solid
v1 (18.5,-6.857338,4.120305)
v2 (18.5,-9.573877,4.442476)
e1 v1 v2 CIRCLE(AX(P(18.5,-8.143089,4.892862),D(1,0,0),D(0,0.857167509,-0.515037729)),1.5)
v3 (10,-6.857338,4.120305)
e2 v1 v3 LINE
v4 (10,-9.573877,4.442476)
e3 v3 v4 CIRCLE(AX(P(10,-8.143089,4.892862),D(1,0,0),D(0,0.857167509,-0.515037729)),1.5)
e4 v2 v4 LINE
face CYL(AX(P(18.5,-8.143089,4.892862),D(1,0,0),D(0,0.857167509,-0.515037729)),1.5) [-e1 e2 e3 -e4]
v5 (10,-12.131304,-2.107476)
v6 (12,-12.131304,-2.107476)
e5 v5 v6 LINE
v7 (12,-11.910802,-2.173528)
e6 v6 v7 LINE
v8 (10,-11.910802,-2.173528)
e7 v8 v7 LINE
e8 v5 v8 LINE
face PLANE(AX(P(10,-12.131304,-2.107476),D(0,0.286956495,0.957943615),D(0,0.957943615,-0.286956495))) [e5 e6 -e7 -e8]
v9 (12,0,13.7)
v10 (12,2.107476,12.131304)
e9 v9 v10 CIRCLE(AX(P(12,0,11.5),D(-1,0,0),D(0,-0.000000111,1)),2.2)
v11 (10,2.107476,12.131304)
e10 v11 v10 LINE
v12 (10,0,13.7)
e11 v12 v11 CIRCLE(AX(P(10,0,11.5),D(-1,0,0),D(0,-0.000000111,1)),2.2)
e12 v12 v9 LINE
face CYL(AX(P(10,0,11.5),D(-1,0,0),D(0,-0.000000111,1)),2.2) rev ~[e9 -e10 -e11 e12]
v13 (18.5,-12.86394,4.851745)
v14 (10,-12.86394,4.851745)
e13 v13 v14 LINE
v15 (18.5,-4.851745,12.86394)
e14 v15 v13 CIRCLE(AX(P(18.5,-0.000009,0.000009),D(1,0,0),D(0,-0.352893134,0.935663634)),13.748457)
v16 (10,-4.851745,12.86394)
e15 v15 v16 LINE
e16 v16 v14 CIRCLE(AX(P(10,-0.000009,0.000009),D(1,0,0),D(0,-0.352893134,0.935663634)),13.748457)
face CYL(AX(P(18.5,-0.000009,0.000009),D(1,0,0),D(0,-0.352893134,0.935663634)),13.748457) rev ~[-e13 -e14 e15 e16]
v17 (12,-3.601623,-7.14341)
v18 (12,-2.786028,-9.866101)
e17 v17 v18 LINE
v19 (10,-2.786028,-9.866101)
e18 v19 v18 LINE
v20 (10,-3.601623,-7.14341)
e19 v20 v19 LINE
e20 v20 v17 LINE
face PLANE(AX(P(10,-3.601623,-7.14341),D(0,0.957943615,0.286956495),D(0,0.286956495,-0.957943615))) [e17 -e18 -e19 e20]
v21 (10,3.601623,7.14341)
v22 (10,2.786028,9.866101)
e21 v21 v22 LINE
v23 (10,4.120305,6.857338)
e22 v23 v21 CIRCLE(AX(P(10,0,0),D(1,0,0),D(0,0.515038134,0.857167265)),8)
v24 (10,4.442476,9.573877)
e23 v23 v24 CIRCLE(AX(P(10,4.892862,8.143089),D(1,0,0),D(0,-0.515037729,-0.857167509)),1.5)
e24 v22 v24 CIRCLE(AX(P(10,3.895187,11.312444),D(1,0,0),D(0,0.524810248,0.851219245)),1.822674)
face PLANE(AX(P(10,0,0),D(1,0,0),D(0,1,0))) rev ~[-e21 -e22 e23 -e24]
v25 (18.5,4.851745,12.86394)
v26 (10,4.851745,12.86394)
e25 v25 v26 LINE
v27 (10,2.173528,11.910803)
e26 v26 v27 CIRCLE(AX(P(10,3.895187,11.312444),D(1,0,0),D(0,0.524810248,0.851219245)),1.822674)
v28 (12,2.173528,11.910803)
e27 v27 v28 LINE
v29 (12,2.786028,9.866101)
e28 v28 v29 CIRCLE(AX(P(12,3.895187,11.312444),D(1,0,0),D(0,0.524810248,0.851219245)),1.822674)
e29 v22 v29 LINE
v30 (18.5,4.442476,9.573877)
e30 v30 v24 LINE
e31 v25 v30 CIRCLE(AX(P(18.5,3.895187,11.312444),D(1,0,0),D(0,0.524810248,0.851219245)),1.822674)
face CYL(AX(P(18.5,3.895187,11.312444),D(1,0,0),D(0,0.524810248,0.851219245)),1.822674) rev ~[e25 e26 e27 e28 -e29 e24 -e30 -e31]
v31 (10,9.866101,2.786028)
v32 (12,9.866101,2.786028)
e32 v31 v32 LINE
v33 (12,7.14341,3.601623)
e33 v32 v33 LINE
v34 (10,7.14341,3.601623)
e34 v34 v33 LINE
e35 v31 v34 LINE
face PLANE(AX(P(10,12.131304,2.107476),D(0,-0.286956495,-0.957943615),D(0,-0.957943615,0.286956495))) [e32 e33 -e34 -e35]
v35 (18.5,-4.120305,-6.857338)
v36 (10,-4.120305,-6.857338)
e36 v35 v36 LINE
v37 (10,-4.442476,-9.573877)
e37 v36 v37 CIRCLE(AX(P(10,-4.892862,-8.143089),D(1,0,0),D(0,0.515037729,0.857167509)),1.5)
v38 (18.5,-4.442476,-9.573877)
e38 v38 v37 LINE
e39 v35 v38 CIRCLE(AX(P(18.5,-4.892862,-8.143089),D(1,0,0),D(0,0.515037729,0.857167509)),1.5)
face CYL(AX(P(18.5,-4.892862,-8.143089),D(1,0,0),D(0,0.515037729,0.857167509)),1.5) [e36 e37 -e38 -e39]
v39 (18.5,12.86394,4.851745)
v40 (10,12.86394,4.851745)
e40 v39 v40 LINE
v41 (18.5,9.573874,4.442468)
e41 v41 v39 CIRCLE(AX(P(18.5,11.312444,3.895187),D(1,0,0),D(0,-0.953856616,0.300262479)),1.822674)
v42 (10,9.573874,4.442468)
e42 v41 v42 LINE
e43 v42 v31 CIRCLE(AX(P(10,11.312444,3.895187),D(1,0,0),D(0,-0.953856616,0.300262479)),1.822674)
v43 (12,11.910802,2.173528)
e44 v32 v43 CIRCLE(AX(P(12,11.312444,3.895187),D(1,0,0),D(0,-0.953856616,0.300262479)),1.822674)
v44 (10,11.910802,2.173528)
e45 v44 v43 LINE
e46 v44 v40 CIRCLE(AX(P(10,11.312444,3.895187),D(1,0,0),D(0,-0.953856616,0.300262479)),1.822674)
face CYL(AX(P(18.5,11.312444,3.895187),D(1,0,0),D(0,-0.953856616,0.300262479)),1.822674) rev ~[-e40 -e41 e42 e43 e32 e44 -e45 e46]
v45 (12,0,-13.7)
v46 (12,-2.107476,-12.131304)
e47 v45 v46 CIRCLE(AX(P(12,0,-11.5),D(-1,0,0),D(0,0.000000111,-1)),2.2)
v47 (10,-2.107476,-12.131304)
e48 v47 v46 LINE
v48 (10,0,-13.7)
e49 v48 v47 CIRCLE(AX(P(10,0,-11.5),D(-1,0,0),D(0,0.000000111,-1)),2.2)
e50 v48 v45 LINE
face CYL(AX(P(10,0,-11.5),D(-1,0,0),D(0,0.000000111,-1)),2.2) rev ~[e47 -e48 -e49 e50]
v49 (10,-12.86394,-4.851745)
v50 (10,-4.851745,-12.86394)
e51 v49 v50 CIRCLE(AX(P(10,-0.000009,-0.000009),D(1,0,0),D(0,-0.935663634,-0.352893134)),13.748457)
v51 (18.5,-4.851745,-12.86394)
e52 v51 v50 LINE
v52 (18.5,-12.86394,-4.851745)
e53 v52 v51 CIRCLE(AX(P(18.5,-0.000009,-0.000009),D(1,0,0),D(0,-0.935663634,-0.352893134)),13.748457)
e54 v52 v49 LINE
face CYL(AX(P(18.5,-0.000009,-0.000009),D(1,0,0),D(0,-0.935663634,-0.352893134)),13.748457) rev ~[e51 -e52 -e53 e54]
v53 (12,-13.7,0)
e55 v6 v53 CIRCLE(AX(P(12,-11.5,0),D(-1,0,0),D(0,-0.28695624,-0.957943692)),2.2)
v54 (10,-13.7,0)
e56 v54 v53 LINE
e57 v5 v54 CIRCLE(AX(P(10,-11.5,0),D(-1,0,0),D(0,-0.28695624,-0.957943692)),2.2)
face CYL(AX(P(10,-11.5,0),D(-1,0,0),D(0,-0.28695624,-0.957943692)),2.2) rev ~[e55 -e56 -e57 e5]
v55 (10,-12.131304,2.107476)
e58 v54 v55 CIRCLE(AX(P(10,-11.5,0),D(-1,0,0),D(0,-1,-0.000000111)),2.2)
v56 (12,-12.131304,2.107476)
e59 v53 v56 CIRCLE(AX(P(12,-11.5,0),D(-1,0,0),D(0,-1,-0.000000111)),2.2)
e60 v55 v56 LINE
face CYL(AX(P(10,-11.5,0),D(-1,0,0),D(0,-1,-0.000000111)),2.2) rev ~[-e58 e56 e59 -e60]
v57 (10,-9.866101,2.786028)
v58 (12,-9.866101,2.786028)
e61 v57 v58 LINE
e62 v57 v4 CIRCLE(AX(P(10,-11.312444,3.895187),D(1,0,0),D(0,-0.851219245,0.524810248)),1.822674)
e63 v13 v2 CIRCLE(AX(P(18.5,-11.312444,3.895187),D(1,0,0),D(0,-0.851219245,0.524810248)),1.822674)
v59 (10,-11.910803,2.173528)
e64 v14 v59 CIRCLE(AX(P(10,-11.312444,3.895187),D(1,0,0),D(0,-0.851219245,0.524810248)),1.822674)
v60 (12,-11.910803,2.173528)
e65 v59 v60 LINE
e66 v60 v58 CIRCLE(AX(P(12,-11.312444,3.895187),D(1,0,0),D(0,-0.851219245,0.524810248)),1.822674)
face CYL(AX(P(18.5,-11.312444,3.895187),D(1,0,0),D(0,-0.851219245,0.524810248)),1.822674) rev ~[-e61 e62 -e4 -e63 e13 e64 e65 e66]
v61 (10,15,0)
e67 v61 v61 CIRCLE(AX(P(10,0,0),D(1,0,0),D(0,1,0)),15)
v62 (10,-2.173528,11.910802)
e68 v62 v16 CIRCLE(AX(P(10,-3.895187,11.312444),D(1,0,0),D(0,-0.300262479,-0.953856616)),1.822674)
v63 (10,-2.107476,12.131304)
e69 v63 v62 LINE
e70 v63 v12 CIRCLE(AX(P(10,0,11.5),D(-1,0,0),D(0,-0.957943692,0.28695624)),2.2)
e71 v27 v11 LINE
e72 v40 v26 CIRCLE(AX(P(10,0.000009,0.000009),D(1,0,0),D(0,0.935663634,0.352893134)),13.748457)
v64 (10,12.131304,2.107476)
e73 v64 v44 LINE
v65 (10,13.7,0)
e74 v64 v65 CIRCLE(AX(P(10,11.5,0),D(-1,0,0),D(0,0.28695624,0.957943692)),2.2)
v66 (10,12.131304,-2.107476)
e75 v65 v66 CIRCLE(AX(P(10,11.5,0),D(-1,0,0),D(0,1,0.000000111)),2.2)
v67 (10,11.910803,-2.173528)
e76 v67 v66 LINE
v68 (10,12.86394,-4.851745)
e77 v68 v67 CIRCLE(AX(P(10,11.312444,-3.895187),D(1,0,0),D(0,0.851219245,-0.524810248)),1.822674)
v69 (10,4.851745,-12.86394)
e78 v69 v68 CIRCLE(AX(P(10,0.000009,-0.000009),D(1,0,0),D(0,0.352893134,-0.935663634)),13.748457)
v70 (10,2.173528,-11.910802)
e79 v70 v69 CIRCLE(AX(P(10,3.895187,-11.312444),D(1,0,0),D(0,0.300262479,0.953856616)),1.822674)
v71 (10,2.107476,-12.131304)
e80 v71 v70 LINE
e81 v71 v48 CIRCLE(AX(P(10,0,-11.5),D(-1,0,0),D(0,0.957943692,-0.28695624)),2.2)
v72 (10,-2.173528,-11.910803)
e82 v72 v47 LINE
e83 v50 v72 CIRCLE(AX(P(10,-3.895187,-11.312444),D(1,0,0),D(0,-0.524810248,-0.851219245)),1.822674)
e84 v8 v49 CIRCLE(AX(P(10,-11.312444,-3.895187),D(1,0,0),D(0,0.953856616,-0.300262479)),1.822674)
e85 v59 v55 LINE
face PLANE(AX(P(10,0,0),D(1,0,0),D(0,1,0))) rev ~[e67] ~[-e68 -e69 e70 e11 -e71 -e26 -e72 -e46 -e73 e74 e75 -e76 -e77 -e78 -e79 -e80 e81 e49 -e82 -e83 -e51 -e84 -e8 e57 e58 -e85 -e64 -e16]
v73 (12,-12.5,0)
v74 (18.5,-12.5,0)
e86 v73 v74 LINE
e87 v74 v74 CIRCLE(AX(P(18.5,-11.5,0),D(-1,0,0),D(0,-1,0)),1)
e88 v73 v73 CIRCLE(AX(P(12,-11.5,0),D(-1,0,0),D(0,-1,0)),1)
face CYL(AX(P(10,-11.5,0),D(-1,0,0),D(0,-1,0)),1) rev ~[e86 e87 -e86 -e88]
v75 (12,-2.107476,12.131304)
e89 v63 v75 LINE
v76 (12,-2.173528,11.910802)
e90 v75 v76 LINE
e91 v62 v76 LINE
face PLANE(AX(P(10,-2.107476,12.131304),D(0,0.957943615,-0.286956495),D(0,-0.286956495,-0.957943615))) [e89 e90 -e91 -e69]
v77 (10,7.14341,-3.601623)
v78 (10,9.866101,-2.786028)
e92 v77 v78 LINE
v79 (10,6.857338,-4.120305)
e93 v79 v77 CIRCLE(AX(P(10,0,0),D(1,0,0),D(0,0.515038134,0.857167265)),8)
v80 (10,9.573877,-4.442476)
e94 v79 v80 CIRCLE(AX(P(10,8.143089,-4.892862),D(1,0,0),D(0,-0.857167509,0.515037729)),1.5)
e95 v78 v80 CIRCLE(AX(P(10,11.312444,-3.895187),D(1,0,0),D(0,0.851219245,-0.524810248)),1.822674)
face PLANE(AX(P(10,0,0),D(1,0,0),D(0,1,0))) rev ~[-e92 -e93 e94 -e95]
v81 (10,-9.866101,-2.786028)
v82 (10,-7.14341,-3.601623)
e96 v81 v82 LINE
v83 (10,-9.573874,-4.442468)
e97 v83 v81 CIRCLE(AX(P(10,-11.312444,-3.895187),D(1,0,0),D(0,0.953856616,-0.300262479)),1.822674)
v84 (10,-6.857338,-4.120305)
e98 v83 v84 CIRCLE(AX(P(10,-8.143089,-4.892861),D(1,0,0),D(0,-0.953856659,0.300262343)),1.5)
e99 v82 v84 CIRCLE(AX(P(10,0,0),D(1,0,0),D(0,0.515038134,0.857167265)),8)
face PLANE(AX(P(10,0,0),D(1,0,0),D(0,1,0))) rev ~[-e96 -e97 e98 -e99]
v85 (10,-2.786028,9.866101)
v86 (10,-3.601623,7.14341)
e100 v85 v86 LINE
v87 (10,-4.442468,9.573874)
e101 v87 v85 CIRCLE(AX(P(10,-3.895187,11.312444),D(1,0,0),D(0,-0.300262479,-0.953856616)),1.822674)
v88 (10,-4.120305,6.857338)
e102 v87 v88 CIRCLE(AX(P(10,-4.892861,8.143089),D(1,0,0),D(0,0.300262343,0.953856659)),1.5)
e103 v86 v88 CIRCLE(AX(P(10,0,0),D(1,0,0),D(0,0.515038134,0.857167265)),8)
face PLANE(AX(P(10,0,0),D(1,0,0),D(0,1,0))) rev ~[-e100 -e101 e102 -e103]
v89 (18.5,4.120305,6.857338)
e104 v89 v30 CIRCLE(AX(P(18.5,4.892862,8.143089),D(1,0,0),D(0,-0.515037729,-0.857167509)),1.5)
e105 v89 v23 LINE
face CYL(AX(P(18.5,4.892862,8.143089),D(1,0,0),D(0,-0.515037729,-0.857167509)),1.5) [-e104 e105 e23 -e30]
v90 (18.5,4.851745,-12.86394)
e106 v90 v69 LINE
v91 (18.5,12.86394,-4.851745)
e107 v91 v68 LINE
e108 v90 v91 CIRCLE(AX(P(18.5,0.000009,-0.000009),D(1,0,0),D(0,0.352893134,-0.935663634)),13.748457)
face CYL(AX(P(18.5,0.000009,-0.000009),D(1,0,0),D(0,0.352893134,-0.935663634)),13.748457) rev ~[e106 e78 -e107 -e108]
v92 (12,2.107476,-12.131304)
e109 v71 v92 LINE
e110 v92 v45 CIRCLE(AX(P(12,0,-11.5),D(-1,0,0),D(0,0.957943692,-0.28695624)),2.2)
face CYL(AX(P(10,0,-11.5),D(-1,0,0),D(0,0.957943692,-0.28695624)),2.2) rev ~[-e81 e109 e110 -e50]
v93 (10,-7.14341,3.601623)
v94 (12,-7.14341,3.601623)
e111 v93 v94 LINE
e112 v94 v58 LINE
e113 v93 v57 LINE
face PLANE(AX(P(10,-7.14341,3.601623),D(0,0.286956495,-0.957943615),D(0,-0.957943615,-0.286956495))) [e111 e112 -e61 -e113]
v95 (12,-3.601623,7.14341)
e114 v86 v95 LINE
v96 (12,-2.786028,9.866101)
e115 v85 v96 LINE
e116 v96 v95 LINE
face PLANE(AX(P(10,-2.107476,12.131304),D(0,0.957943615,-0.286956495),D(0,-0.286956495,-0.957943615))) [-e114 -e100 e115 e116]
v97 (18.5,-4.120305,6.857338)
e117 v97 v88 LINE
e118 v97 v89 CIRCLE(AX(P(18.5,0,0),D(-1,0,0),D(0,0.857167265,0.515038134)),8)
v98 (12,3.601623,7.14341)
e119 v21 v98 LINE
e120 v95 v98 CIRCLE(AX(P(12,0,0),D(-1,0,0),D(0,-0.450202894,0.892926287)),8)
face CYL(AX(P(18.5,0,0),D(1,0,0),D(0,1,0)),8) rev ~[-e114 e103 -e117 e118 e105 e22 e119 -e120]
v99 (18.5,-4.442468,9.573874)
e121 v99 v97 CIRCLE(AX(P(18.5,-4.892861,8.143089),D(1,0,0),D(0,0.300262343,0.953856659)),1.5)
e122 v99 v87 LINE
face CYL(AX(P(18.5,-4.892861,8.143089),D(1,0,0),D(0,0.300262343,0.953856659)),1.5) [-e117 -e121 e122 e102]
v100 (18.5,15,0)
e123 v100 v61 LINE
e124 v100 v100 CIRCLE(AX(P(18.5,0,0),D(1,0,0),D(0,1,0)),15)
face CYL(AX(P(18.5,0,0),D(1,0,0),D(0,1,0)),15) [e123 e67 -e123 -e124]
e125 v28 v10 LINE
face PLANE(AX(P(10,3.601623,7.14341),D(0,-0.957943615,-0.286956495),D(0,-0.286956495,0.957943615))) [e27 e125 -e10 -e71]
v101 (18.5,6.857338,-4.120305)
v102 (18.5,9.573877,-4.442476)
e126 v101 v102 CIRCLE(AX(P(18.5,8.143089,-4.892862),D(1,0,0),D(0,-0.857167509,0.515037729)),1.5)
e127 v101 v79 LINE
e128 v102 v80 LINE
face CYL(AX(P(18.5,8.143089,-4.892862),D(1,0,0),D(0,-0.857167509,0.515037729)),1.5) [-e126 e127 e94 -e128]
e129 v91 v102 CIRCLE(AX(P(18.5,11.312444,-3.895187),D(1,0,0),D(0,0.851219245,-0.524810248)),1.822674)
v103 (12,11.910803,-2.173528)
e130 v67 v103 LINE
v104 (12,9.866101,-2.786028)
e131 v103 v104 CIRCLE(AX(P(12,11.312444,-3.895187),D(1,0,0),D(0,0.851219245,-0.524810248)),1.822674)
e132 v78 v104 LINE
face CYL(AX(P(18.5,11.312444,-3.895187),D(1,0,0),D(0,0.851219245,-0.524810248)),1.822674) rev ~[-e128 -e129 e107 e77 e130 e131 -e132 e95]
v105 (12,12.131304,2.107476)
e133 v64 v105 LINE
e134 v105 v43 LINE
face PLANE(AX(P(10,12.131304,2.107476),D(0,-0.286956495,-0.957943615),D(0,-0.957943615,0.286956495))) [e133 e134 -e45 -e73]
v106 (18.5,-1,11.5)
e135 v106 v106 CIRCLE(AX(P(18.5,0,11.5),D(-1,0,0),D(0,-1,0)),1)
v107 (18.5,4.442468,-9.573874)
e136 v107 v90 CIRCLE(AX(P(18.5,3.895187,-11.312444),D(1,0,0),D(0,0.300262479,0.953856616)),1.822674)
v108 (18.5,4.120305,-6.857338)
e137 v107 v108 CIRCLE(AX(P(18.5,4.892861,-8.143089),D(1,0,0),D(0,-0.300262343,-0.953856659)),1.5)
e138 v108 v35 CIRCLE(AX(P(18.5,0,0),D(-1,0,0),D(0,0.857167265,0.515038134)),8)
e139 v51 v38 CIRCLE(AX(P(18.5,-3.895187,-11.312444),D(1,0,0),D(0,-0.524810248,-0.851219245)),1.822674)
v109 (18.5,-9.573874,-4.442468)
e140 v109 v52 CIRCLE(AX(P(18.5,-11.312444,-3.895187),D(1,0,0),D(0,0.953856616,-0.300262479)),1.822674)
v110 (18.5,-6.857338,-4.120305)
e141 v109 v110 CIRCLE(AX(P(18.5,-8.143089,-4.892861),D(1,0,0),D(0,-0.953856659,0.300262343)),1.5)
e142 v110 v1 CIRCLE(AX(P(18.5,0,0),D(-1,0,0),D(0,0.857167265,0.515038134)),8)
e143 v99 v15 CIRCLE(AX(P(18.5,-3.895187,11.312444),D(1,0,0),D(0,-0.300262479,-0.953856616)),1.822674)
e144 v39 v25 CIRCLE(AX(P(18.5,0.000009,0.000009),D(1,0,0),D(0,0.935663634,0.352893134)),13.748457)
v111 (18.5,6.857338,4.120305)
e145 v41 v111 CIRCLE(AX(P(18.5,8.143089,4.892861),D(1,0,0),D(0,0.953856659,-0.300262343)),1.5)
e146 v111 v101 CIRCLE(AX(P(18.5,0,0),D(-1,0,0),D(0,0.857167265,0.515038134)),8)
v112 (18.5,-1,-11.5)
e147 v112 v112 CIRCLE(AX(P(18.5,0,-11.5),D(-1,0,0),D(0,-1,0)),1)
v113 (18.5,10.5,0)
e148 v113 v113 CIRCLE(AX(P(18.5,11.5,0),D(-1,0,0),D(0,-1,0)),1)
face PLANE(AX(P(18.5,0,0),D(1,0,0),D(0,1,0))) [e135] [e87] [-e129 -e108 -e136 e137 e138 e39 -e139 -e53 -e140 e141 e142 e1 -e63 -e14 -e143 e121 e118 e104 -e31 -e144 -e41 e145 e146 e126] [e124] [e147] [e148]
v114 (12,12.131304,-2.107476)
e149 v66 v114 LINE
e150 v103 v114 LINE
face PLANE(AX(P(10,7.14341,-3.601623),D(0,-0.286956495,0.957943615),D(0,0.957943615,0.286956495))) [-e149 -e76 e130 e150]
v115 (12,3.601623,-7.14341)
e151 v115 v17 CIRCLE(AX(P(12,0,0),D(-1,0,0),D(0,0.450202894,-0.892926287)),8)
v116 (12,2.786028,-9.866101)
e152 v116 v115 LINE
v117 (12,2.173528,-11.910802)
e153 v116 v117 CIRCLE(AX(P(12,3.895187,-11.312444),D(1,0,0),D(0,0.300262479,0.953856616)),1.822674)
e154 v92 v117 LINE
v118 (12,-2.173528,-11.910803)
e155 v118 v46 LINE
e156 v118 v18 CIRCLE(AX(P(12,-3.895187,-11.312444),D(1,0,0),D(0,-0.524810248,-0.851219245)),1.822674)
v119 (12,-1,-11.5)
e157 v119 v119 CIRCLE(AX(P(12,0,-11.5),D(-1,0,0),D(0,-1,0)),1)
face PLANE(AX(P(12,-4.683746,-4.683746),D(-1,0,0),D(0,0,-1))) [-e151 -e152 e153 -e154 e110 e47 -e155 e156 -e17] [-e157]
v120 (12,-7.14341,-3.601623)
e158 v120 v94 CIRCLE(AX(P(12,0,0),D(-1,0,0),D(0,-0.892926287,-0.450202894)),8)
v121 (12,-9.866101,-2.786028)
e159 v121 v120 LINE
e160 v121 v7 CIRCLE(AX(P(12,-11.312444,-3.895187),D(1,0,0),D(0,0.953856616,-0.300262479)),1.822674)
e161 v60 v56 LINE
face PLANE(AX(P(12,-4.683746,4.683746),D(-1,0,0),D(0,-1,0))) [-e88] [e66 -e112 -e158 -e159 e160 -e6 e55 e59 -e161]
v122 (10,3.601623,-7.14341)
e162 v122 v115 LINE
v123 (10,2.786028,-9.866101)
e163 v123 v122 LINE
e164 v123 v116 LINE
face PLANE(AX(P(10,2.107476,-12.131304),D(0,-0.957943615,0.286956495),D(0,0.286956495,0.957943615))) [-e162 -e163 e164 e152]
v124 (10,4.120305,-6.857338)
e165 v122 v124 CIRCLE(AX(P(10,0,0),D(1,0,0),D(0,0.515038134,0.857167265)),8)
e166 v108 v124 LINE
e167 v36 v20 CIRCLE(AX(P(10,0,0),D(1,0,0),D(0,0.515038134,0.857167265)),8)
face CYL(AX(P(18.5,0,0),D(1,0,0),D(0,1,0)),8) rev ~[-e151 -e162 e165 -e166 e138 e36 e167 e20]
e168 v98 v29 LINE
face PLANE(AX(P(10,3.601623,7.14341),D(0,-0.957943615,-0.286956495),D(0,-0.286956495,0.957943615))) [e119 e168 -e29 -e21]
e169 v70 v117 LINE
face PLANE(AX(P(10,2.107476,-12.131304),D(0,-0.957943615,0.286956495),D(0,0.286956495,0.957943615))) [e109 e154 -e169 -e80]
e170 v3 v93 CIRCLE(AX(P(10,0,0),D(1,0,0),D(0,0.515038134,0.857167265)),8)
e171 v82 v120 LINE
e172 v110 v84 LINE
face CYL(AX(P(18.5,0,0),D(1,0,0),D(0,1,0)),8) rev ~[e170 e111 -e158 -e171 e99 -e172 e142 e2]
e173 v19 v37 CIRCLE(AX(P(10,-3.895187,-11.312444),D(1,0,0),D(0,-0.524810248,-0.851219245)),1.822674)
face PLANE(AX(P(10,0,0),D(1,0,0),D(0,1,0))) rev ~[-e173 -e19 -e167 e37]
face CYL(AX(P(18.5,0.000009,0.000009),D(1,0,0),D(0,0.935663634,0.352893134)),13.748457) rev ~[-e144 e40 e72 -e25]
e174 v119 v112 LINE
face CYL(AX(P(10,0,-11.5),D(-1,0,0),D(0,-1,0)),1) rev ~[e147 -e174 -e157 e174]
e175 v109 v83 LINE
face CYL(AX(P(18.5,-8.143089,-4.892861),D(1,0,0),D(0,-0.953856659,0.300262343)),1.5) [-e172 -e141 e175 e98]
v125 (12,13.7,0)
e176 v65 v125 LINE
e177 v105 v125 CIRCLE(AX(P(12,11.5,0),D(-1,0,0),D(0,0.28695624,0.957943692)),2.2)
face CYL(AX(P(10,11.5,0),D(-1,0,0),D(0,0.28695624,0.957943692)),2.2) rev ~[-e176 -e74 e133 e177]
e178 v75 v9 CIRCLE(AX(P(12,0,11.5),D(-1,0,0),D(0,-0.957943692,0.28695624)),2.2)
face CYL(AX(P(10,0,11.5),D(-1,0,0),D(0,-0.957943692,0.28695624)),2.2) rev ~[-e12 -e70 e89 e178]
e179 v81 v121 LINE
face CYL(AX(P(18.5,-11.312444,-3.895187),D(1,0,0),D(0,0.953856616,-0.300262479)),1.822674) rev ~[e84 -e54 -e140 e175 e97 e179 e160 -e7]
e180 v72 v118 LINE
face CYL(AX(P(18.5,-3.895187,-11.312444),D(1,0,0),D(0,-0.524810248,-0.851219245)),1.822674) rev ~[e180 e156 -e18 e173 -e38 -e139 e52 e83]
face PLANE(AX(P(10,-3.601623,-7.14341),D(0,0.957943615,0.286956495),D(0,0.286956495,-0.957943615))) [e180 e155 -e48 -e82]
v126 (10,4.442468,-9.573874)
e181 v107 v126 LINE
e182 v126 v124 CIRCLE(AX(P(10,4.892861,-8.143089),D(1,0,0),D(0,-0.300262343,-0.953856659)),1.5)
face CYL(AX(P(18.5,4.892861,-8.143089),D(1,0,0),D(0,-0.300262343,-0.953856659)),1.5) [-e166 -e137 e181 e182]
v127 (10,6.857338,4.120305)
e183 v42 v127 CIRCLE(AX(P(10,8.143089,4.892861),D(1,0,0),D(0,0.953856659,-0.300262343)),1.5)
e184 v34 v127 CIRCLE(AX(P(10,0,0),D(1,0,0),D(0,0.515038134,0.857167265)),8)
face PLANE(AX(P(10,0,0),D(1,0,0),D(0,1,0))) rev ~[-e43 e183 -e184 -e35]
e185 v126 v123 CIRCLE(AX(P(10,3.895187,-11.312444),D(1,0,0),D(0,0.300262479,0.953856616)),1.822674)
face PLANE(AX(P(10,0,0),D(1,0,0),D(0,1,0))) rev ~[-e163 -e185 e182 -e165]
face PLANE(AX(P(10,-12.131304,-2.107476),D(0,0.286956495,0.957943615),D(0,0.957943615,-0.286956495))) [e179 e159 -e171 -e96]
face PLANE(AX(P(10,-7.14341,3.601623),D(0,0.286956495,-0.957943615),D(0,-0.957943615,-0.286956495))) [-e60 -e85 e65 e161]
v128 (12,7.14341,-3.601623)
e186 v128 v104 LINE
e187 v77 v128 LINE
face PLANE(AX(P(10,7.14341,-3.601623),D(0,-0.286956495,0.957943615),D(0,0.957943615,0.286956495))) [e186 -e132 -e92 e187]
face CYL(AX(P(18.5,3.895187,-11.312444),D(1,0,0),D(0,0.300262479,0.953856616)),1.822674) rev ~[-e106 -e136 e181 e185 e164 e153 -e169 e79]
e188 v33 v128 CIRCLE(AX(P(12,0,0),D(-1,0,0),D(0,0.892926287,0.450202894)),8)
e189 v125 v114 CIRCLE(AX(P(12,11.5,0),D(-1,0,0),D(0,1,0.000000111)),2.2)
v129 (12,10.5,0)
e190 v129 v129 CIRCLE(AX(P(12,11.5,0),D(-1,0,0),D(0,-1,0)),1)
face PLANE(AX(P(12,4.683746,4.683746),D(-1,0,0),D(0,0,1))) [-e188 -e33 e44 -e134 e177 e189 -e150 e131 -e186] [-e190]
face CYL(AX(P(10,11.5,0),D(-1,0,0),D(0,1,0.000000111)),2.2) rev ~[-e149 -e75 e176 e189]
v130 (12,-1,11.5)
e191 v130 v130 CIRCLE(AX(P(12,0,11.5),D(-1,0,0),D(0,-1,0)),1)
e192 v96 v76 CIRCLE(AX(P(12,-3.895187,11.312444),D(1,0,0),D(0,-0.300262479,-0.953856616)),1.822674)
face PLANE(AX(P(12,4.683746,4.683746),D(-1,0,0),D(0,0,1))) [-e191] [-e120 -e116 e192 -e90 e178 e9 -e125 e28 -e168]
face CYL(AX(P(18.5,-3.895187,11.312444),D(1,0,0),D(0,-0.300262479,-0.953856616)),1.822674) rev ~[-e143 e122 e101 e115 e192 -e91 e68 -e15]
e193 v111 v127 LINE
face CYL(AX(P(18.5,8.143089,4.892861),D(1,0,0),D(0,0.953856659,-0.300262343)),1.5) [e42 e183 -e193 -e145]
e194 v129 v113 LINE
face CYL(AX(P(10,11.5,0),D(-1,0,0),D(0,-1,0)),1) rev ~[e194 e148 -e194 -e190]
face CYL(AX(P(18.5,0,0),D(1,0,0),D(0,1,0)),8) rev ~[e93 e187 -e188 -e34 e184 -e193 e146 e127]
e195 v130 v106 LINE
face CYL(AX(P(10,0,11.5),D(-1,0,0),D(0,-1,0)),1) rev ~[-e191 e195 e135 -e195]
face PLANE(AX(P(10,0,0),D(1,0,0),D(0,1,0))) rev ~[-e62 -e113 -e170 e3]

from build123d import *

# Parameters (mm, degrees)
SKETCH103_R           = 15
SKETCH103_R_2         = 8
PAD055_DEPTH          = 8.5
POCKET033_DEPTH       = 95.040009
POLARPATTERN024_COUNT = 4
POCKET034_DEPTH       = 2
POLARPATTERN025_COUNT = 4
SKETCH108_R           = 1
POCKET035_DEPTH       = 8.501


with BuildPart() as part:
    # Sketch103 → Pad055 (new body)
    with BuildSketch(Plane.YZ):
        Circle(SKETCH103_R)
        Circle(SKETCH103_R_2, mode=Mode.SUBTRACT)
    extrude(amount=-PAD055_DEPTH)

    # Sketch107 (on Face3 of Pad055) → Pocket033 (cut, through all)
    with BuildSketch(Plane.YZ):
        with BuildLine():
            ThreePointArc((4.120305, 6.857338), (6.382423, 7.966433), (4.442476, 9.573877))
            ThreePointArc((4.851745, 12.86394), (2.086453, 11.537443), (4.442476, 9.573877))
            ThreePointArc((12.86394, 4.851745), (9.721636, 9.721636), (4.851745, 12.86394))
            ThreePointArc((9.573874, 4.442468), (11.537447, 2.086454), (12.86394, 4.851745))
            ThreePointArc((9.573874, 4.442468), (7.966437, 6.382423), (6.857338, 4.120305))
            ThreePointArc((6.857338, 4.120305), (5.656854, 5.656854), (4.120305, 6.857338))
        make_face()
    pocket033 = extrude(amount=-POCKET033_DEPTH, mode=Mode.SUBTRACT)

    # PolarPattern024: Pocket033 ×4 about axis
    polarpattern024_axis = Axis((0, 0, 0), (1, 0, 0))
    for i in range(1, POLARPATTERN024_COUNT):
        add(pocket033.rotate(polarpattern024_axis, i * 360 / POLARPATTERN024_COUNT), mode=Mode.SUBTRACT)

    # Sketch105 (on ShapeBinder) → Pocket034 (cut)
    with BuildSketch(Plane(origin=(-8.5, 0, 0), x_dir=(0, -1, 0), z_dir=(-1, 0, 0))):
        with BuildLine():
            ThreePointArc((2.107476, 12.131304), (1.313608, 13.264776), (0, 13.7))
            Line((0, 13.7), (0, 0))
            Line((0, 0), (13.7, 0))
            ThreePointArc((13.7, 0), (13.264776, 1.313608), (12.131304, 2.107476))
            Line((7.14341, 3.601623), (12.131304, 2.107476))
            ThreePointArc((7.14341, 3.601623), (5.656854, 5.656854), (3.601623, 7.14341))
            Line((2.107476, 12.131304), (3.601623, 7.14341))
        make_face()
    pocket034 = extrude(amount=-POCKET034_DEPTH, mode=Mode.SUBTRACT)

    # PolarPattern025: Pocket034 ×4 about axis
    polarpattern025_axis = Axis((-8.5, 0, 0), (-1, 0, 0))
    for i in range(1, POLARPATTERN025_COUNT):
        add(pocket034.rotate(polarpattern025_axis, i * 360 / POLARPATTERN025_COUNT), mode=Mode.SUBTRACT)

    # Sketch108 (on ShapeBinder) → Pocket035 (cut, through all)
    with BuildSketch(Plane(origin=(-8.5, 0, 0), x_dir=(0, -1, 0), z_dir=(-1, 0, 0))):
        with Locations((0, 11.5)):
            Circle(SKETCH108_R)
        with Locations((11.5, 0)):
            Circle(SKETCH108_R)
        with Locations((0, -11.5)):
            Circle(SKETCH108_R)
        with Locations((-11.5, 0)):
            Circle(SKETCH108_R)
    extrude(amount=-POCKET035_DEPTH, mode=Mode.SUBTRACT)


with BuildPart() as part_1:
    # Body038 placement: moved
    add(part.part.moved(Location((18.5, 0, 0))))


solid = part_1.part
